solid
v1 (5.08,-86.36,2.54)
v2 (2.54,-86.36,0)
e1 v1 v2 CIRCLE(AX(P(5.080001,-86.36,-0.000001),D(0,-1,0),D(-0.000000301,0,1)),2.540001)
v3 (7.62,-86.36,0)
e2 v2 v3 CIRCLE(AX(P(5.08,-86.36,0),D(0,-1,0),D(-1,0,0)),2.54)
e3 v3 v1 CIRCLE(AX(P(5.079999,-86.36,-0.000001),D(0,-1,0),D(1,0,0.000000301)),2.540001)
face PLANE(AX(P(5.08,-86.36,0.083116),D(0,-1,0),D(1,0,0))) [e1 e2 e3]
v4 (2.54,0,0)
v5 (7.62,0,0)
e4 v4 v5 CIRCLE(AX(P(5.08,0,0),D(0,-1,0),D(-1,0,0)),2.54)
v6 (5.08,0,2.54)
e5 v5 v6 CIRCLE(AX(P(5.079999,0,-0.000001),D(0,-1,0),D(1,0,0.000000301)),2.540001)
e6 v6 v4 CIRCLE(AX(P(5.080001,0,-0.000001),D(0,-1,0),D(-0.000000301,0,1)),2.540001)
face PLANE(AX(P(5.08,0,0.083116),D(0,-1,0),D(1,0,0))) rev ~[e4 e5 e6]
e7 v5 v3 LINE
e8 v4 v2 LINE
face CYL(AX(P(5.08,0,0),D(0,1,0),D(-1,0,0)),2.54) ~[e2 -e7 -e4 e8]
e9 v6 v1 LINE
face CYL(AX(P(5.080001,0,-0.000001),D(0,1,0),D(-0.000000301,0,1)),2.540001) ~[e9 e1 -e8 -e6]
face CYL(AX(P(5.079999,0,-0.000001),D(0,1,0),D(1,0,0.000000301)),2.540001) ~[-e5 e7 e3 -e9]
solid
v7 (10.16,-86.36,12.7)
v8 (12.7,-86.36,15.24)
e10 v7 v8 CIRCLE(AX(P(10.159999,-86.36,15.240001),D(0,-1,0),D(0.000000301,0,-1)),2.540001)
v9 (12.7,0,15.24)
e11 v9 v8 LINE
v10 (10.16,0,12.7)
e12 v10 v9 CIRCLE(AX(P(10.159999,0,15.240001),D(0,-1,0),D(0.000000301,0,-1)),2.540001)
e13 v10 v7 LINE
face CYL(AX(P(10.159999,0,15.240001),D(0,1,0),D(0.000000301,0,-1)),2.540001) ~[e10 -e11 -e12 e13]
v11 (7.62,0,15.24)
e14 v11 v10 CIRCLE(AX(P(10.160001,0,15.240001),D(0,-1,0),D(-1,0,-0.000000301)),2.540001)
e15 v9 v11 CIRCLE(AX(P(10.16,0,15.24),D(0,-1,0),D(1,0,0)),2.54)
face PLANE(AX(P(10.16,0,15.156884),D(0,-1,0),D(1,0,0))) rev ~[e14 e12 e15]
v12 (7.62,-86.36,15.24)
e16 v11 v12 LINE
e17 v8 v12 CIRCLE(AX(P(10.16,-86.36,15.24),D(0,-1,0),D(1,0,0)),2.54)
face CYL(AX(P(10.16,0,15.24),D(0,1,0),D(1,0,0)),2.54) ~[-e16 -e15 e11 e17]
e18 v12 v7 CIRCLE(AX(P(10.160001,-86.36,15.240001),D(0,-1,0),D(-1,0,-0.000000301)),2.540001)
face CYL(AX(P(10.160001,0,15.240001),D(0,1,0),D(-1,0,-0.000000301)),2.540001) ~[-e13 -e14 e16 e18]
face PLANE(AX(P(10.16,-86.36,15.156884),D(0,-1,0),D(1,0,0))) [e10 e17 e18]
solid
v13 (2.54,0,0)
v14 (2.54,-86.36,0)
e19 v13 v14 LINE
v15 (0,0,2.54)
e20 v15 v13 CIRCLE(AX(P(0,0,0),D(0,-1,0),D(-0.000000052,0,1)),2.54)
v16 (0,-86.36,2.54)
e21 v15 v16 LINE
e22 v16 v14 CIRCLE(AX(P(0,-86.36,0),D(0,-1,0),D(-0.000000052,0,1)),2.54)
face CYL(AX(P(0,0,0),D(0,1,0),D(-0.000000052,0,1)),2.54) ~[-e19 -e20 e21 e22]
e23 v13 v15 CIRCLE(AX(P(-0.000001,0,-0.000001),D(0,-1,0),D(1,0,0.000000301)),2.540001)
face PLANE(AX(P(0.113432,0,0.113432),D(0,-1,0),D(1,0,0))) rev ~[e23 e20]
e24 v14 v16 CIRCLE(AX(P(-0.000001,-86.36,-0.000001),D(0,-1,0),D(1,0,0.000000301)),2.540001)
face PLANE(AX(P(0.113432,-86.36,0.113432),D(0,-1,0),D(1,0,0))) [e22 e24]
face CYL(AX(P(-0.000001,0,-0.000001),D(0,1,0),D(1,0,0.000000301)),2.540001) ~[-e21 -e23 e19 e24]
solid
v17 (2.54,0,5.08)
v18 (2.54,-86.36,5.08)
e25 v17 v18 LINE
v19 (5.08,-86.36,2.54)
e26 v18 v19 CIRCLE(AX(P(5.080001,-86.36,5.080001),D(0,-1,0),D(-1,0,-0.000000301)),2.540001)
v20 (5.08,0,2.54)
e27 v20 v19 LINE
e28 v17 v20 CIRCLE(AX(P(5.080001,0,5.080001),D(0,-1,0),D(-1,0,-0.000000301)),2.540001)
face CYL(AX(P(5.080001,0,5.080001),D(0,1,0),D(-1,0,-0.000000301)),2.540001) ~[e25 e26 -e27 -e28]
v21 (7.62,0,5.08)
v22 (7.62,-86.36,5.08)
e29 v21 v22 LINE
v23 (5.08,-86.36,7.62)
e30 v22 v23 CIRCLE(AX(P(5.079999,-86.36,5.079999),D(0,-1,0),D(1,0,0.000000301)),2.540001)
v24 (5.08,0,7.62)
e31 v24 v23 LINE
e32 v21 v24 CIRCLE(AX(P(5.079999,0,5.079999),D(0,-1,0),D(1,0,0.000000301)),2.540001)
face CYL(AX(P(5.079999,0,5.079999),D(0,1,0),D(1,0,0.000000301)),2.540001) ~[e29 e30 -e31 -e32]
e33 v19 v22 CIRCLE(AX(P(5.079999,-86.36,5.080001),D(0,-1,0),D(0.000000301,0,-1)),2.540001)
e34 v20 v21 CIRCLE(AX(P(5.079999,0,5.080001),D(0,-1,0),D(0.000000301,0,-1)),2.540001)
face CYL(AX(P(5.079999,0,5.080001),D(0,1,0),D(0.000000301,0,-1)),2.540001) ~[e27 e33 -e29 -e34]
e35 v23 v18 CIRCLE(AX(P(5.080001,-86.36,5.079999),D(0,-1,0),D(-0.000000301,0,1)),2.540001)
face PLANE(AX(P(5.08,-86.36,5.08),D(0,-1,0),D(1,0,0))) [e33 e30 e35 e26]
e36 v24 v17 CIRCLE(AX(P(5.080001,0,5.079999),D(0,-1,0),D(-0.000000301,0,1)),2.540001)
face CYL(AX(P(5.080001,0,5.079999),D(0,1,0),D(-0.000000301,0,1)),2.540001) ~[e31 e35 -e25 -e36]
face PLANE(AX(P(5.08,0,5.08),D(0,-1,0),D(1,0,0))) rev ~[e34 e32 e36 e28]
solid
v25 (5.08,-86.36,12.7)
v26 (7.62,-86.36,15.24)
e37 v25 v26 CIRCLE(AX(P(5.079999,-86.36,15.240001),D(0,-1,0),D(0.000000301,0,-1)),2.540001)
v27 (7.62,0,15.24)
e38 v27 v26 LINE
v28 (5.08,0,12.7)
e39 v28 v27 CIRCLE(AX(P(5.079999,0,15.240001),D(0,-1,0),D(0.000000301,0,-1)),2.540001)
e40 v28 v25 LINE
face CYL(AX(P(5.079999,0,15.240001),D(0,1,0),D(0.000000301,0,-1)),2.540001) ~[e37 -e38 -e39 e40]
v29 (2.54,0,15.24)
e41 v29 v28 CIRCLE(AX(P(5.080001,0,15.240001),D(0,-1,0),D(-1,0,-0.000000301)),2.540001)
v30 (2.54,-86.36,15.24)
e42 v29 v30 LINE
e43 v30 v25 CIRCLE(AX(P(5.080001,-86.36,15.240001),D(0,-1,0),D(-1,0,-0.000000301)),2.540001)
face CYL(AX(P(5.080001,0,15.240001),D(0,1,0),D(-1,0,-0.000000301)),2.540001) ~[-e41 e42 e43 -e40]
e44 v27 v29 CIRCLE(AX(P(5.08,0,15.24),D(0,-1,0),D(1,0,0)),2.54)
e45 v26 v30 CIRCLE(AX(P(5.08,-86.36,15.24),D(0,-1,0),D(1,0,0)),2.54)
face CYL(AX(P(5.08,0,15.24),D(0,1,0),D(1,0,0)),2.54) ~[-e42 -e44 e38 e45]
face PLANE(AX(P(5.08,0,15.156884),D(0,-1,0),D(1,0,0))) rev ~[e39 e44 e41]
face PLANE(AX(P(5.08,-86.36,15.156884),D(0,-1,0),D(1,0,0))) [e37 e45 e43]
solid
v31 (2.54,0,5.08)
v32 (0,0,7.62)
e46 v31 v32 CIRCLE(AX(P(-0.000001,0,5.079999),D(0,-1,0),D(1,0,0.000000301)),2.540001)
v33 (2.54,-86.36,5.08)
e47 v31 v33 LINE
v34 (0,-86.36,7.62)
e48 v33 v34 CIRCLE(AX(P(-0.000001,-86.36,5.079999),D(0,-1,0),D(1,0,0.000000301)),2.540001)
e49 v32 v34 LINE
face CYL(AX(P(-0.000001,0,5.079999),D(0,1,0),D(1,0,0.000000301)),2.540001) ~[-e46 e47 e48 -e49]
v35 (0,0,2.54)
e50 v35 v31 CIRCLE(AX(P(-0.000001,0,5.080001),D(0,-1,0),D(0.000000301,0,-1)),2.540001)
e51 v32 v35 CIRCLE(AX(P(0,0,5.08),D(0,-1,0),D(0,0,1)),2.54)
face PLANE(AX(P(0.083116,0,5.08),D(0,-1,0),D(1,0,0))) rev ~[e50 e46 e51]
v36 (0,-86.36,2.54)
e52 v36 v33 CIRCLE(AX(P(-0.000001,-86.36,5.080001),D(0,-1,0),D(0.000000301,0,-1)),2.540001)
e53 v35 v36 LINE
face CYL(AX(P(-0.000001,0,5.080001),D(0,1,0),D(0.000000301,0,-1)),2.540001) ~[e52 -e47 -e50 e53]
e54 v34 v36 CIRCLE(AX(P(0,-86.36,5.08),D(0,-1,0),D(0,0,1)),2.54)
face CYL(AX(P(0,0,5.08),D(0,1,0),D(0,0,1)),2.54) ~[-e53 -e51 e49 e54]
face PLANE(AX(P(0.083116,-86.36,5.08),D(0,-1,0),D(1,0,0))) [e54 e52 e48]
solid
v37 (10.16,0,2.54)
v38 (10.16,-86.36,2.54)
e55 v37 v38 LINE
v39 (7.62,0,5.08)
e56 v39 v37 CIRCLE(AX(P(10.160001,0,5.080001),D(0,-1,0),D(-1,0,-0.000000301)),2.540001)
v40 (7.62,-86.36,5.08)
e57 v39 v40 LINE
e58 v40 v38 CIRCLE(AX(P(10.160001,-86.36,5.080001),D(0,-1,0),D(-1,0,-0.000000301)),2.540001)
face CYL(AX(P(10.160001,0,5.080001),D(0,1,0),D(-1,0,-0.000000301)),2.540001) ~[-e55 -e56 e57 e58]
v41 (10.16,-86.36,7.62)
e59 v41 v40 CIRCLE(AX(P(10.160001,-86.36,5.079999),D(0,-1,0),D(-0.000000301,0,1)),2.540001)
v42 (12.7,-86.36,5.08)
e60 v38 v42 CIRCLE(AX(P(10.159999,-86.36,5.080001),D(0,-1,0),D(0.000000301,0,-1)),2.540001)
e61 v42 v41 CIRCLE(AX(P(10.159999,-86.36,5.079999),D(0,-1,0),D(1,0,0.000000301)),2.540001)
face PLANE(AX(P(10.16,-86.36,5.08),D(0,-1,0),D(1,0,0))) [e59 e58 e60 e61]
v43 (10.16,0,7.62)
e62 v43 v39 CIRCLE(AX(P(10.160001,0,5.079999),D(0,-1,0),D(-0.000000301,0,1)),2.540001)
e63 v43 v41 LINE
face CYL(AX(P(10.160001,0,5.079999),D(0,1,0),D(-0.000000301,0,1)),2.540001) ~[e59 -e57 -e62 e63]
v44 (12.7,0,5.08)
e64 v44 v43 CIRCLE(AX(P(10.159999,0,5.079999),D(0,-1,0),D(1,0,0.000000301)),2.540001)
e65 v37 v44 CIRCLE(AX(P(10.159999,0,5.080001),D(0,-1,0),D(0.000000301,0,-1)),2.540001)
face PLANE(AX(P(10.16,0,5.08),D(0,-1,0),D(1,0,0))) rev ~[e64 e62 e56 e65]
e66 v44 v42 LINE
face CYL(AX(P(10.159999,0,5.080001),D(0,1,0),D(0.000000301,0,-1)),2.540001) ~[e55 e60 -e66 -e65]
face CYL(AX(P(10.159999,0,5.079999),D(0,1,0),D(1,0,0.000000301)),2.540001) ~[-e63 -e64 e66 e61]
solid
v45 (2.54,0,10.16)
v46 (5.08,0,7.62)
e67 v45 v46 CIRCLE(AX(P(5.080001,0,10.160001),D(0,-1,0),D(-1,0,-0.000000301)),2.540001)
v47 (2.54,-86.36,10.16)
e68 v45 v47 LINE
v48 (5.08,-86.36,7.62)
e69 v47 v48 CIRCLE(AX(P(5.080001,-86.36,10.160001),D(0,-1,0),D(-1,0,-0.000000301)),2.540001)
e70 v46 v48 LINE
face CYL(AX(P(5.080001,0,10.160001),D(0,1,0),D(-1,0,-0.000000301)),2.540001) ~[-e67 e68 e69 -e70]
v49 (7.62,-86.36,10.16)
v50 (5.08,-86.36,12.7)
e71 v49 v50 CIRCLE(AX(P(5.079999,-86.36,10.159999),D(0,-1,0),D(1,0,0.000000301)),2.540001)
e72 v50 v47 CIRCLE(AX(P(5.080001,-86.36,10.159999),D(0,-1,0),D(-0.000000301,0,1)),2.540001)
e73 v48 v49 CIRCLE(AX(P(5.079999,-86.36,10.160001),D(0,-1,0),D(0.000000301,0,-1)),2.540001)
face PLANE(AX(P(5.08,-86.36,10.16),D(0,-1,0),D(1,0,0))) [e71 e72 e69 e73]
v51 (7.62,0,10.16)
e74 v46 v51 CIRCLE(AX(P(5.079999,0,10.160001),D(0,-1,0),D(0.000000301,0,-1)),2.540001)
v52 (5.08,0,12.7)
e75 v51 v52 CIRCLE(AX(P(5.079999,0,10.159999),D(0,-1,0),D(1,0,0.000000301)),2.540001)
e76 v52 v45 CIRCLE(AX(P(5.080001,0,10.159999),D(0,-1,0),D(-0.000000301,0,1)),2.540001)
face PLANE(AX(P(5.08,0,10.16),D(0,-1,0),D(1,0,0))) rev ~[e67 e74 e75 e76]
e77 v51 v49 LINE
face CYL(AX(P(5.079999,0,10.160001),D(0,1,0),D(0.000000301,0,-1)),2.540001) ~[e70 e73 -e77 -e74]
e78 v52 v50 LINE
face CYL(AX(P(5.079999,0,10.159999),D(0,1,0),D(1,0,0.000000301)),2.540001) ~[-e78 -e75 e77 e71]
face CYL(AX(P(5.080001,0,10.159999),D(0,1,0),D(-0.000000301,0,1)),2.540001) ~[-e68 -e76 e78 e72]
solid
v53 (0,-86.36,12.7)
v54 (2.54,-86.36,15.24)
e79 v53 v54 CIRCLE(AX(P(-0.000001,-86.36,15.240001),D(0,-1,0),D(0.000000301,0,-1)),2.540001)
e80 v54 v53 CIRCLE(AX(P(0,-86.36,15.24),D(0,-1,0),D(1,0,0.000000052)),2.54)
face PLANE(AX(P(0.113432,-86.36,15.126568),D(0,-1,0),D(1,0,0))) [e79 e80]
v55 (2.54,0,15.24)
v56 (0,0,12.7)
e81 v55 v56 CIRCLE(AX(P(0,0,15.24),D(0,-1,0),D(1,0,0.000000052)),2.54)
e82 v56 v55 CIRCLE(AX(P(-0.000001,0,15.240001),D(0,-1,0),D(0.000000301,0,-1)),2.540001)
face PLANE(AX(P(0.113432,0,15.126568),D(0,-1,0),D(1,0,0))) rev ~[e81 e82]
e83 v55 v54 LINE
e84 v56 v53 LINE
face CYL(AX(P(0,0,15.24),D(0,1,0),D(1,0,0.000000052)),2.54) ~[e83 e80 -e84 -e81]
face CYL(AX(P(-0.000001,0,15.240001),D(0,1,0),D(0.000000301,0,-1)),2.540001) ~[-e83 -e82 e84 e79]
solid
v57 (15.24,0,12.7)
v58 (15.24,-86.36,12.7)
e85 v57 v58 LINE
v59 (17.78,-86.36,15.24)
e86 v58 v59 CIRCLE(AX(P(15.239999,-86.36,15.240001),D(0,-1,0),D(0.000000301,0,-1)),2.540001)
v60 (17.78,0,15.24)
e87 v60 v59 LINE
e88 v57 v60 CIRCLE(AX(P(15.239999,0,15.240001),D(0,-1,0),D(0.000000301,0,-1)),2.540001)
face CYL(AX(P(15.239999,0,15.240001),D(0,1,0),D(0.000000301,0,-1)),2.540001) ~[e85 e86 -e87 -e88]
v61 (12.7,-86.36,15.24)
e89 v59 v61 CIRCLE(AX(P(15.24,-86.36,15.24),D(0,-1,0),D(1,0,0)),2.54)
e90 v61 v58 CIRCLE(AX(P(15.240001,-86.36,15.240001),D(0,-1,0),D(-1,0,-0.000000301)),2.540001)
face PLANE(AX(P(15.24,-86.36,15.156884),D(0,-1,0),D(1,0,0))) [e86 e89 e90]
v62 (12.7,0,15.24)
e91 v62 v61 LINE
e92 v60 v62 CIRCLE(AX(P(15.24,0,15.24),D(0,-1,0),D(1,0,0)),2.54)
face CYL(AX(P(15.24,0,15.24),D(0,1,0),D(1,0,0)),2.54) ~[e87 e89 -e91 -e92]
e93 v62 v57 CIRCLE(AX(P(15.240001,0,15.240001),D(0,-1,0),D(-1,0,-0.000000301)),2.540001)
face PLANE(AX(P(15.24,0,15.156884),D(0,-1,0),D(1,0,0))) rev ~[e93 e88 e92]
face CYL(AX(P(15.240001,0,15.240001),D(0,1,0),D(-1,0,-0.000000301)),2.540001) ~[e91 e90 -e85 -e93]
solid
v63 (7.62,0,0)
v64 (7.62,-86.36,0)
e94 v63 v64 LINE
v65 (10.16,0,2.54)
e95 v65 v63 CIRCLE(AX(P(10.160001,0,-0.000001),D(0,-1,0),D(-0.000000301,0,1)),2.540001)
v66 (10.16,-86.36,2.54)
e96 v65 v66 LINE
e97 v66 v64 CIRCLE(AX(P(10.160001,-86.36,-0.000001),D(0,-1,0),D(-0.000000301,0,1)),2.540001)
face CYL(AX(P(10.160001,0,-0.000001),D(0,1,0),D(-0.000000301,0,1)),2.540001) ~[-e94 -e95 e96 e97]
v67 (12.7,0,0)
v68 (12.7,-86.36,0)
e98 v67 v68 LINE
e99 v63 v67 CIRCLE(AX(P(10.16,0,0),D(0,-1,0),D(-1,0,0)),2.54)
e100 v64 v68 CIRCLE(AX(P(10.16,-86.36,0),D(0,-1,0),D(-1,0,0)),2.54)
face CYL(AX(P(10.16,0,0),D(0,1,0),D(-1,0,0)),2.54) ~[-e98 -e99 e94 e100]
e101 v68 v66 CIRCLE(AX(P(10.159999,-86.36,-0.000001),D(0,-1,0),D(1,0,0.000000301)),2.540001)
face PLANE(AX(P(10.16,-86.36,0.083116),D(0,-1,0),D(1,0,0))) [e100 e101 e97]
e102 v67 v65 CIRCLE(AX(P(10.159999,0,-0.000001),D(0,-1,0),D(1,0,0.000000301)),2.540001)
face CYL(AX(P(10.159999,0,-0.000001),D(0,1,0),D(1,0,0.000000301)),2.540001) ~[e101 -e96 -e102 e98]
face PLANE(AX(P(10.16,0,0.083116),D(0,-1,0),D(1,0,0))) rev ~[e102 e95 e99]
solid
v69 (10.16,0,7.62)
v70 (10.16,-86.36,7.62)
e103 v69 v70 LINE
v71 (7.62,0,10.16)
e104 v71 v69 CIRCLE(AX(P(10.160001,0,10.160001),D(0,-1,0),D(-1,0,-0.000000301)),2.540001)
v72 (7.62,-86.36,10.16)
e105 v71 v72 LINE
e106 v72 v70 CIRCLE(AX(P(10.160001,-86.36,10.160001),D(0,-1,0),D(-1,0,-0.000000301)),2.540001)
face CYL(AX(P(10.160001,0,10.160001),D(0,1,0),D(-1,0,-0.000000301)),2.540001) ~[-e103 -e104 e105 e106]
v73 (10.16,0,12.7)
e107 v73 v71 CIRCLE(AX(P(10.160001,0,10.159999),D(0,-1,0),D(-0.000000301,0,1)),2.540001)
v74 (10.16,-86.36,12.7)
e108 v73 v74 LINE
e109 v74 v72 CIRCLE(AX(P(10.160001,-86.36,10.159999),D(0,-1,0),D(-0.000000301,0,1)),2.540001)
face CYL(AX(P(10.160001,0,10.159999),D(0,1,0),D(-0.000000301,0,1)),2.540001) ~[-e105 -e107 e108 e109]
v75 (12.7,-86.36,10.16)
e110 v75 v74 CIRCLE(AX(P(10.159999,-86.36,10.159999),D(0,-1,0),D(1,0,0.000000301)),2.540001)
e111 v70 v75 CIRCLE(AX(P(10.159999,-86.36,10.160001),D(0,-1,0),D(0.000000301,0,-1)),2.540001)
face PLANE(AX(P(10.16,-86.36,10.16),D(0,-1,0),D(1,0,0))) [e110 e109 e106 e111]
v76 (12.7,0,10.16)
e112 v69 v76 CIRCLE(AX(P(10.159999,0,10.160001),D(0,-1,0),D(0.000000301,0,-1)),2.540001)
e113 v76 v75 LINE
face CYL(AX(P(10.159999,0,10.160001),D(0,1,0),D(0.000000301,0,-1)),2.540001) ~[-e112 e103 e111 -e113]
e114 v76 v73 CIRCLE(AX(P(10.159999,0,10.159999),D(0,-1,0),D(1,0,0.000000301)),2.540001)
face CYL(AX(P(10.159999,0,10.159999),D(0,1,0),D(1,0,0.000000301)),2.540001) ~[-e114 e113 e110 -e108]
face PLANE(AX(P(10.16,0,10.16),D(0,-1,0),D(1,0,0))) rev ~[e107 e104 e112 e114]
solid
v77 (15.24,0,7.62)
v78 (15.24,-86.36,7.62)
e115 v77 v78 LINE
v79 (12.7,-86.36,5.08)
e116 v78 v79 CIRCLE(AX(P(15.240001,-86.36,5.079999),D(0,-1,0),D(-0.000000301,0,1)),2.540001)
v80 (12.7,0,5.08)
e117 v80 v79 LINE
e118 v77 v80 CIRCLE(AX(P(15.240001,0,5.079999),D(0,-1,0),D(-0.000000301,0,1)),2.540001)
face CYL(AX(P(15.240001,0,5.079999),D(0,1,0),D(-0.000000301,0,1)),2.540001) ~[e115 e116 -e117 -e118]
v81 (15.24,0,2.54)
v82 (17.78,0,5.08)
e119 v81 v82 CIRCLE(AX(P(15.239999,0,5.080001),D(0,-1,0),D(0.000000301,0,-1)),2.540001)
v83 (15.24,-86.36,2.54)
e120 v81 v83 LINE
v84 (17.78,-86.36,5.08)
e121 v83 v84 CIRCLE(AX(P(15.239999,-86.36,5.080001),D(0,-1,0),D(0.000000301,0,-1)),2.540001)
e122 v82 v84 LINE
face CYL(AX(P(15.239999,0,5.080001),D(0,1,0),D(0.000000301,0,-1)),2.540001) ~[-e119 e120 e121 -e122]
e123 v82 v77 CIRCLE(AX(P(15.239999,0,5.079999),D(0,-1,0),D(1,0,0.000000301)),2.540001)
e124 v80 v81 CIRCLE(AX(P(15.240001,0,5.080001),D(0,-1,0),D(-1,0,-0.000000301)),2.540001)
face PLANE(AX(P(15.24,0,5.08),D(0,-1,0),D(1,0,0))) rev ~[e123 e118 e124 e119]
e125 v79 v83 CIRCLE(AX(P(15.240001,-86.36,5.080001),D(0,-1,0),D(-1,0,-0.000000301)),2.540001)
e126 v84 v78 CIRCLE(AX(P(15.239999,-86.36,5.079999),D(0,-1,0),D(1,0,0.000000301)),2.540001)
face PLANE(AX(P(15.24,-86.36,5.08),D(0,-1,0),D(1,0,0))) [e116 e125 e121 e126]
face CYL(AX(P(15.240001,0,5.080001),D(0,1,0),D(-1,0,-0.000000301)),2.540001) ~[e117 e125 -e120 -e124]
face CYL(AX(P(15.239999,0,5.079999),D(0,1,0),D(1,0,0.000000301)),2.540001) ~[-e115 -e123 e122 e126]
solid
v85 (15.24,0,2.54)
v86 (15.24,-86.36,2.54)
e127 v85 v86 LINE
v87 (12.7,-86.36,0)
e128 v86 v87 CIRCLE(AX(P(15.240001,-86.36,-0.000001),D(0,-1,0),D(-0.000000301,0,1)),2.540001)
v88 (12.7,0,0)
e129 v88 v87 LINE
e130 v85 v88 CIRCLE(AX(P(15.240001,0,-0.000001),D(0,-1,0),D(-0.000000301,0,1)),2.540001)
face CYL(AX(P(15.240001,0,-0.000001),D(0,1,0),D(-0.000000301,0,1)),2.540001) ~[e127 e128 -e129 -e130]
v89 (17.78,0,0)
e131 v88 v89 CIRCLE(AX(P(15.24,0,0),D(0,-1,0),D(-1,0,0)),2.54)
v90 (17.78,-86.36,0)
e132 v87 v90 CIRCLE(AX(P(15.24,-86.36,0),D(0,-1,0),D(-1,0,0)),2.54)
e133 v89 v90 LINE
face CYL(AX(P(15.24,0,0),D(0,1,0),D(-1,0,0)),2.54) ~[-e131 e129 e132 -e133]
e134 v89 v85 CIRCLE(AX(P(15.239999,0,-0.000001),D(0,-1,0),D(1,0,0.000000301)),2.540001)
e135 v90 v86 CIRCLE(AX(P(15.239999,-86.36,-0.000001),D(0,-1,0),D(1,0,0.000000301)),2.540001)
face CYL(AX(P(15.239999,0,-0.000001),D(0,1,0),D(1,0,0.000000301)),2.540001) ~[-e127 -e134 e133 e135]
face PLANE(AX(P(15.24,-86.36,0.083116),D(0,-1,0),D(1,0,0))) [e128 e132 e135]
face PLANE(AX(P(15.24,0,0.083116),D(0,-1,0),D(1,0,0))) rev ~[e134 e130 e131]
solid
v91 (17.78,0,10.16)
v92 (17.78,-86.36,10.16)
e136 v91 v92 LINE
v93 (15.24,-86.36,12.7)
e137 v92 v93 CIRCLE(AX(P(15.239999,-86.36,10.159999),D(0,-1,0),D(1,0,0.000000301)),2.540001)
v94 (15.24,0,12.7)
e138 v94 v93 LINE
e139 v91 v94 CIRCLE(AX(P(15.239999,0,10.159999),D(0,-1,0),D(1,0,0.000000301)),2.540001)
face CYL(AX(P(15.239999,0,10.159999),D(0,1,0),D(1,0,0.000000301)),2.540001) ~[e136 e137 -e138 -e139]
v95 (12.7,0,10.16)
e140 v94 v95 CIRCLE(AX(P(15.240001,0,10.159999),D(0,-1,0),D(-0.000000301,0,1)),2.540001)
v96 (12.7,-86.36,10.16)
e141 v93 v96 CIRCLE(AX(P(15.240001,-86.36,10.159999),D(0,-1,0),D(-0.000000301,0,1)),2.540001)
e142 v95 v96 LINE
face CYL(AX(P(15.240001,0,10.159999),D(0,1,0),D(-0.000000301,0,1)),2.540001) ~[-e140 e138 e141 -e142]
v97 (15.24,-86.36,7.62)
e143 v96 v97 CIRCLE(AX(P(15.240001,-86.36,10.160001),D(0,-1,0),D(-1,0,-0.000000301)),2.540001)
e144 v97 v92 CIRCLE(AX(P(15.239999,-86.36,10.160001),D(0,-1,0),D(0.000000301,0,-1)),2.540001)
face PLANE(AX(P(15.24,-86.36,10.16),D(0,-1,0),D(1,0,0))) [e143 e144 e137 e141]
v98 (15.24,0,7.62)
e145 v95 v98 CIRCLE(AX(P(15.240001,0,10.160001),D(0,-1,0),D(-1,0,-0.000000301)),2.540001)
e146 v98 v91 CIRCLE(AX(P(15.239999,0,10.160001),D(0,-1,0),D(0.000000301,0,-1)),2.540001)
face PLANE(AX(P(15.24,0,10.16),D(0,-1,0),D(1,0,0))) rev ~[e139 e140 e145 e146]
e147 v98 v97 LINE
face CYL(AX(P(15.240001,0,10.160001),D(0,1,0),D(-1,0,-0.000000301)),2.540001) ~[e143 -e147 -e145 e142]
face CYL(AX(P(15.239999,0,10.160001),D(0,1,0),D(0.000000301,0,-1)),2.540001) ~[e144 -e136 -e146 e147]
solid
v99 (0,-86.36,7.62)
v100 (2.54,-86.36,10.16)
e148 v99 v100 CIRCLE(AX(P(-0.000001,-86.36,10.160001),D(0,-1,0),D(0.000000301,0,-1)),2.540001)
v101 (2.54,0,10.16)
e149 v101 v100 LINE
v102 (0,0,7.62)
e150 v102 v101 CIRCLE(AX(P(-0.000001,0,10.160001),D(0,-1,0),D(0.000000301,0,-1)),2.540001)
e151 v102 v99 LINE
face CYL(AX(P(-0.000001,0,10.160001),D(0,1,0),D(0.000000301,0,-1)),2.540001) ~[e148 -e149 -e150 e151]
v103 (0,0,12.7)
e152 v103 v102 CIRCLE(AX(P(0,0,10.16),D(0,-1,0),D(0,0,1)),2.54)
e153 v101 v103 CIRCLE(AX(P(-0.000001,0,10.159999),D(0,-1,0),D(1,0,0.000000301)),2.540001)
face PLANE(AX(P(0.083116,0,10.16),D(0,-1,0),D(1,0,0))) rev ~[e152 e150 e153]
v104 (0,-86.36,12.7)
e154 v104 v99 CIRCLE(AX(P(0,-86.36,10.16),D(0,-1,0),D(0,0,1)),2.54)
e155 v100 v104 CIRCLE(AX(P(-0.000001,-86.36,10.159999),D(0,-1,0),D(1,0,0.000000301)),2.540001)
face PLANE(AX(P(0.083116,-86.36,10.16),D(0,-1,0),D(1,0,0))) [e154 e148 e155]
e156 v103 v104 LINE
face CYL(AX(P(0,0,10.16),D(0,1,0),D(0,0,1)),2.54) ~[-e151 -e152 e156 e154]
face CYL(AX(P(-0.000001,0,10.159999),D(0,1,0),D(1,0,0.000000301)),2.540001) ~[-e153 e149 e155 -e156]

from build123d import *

# Parameters (mm, degrees)
F1_DEPTH = 86.36


with BuildPart() as f1:
    # F0 (on Front) → F1 (new body)
    with BuildSketch(Plane.XZ):
        with BuildLine():
            ThreePointArc((0, 2.54), (-1.796051, -1.796051), (2.54, 0))
            ThreePointArc((2.54, 0), (1.796051, 1.796051), (0, 2.54))
        make_face()
        with BuildLine():
            ThreePointArc((2.54, 15.24), (-1.796051, 17.036051), (0, 12.7))
            ThreePointArc((0, 12.7), (1.796051, 13.443949), (2.54, 15.24))
        make_face()
        with BuildLine():
            ThreePointArc((15.24, 2.54), (13.443949, 1.796051), (12.7, 0))
            ThreePointArc((12.7, 0), (15.24, -2.54), (17.78, 0))
            ThreePointArc((17.78, 0), (17.036051, 1.796051), (15.24, 2.54))
        make_face()
        with BuildLine():
            ThreePointArc((12.7, 15.24), (13.443949, 13.443949), (15.24, 12.7))
            ThreePointArc((15.24, 12.7), (17.036051, 13.443949), (17.78, 15.24))
            ThreePointArc((17.78, 15.24), (15.24, 17.78), (12.7, 15.24))
        make_face()
        with BuildLine():
            ThreePointArc((0, 7.62), (-2.54, 5.08), (0, 2.54))
            ThreePointArc((0, 2.54), (1.796051, 3.283949), (2.54, 5.08))
            ThreePointArc((2.54, 5.08), (1.796051, 6.876051), (0, 7.62))
        make_face()
        with BuildLine():
            ThreePointArc((0, 12.7), (-2.54, 10.16), (0, 7.62))
            ThreePointArc((0, 7.62), (1.796051, 8.363949), (2.54, 10.16))
            ThreePointArc((2.54, 10.16), (1.796051, 11.956051), (0, 12.7))
        make_face()
        with BuildLine():
            ThreePointArc((5.08, 2.54), (3.283949, 1.796051), (2.54, 0))
            ThreePointArc((2.54, 0), (5.08, -2.54), (7.62, 0))
            ThreePointArc((7.62, 0), (6.876051, 1.796051), (5.08, 2.54))
        make_face()
        with BuildLine():
            ThreePointArc((7.62, 15.24), (5.08, 17.78), (2.54, 15.24))
            ThreePointArc((2.54, 15.24), (3.283949, 13.443949), (5.08, 12.7))
            ThreePointArc((5.08, 12.7), (6.876051, 13.443949), (7.62, 15.24))
        make_face()
        with BuildLine():
            ThreePointArc((10.16, 2.54), (8.363949, 1.796051), (7.62, 0))
            ThreePointArc((7.62, 0), (10.16, -2.54), (12.7, 0))
            ThreePointArc((12.7, 0), (11.956051, 1.796051), (10.16, 2.54))
        make_face()
        with BuildLine():
            ThreePointArc((12.7, 15.24), (10.16, 17.78), (7.62, 15.24))
            ThreePointArc((7.62, 15.24), (8.363949, 13.443949), (10.16, 12.7))
            ThreePointArc((10.16, 12.7), (11.956051, 13.443949), (12.7, 15.24))
        make_face()
        with BuildLine():
            ThreePointArc((12.7, 5.08), (13.443949, 3.283949), (15.24, 2.54))
            ThreePointArc((15.24, 2.54), (17.036051, 3.283949), (17.78, 5.08))
            ThreePointArc((17.78, 5.08), (17.036051, 6.876051), (15.24, 7.62))
            ThreePointArc((15.24, 7.62), (13.443949, 6.876051), (12.7, 5.08))
        make_face()
        with BuildLine():
            ThreePointArc((12.7, 10.16), (13.443949, 8.363949), (15.24, 7.62))
            ThreePointArc((15.24, 7.62), (17.036051, 8.363949), (17.78, 10.16))
            ThreePointArc((17.78, 10.16), (17.036051, 11.956051), (15.24, 12.7))
            ThreePointArc((15.24, 12.7), (13.443949, 11.956051), (12.7, 10.16))
        make_face()
        with BuildLine():
            ThreePointArc((7.62, 5.08), (8.363949, 3.283949), (10.16, 2.54))
            ThreePointArc((10.16, 2.54), (11.956051, 3.283949), (12.7, 5.08))
            ThreePointArc((12.7, 5.08), (11.956051, 6.876051), (10.16, 7.62))
            ThreePointArc((10.16, 7.62), (8.363949, 6.876051), (7.62, 5.08))
        make_face()
        with BuildLine():
            ThreePointArc((2.54, 5.08), (3.283949, 3.283949), (5.08, 2.54))
            ThreePointArc((5.08, 2.54), (6.876051, 3.283949), (7.62, 5.08))
            ThreePointArc((7.62, 5.08), (6.876051, 6.876051), (5.08, 7.62))
            ThreePointArc((5.08, 7.62), (3.283949, 6.876051), (2.54, 5.08))
        make_face()
        with BuildLine():
            ThreePointArc((7.62, 10.16), (8.363949, 8.363949), (10.16, 7.62))
            ThreePointArc((10.16, 7.62), (11.956051, 8.363949), (12.7, 10.16))
            ThreePointArc((12.7, 10.16), (11.956051, 11.956051), (10.16, 12.7))
            ThreePointArc((10.16, 12.7), (8.363949, 11.956051), (7.62, 10.16))
        make_face()
        with BuildLine():
            ThreePointArc((5.08, 12.7), (3.283949, 11.956051), (2.54, 10.16))
            ThreePointArc((2.54, 10.16), (3.283949, 8.363949), (5.08, 7.62))
            ThreePointArc((5.08, 7.62), (6.876051, 8.363949), (7.62, 10.16))
            ThreePointArc((7.62, 10.16), (6.876051, 11.956051), (5.08, 12.7))
        make_face()
    extrude(amount=F1_DEPTH)


solid = f1.part
